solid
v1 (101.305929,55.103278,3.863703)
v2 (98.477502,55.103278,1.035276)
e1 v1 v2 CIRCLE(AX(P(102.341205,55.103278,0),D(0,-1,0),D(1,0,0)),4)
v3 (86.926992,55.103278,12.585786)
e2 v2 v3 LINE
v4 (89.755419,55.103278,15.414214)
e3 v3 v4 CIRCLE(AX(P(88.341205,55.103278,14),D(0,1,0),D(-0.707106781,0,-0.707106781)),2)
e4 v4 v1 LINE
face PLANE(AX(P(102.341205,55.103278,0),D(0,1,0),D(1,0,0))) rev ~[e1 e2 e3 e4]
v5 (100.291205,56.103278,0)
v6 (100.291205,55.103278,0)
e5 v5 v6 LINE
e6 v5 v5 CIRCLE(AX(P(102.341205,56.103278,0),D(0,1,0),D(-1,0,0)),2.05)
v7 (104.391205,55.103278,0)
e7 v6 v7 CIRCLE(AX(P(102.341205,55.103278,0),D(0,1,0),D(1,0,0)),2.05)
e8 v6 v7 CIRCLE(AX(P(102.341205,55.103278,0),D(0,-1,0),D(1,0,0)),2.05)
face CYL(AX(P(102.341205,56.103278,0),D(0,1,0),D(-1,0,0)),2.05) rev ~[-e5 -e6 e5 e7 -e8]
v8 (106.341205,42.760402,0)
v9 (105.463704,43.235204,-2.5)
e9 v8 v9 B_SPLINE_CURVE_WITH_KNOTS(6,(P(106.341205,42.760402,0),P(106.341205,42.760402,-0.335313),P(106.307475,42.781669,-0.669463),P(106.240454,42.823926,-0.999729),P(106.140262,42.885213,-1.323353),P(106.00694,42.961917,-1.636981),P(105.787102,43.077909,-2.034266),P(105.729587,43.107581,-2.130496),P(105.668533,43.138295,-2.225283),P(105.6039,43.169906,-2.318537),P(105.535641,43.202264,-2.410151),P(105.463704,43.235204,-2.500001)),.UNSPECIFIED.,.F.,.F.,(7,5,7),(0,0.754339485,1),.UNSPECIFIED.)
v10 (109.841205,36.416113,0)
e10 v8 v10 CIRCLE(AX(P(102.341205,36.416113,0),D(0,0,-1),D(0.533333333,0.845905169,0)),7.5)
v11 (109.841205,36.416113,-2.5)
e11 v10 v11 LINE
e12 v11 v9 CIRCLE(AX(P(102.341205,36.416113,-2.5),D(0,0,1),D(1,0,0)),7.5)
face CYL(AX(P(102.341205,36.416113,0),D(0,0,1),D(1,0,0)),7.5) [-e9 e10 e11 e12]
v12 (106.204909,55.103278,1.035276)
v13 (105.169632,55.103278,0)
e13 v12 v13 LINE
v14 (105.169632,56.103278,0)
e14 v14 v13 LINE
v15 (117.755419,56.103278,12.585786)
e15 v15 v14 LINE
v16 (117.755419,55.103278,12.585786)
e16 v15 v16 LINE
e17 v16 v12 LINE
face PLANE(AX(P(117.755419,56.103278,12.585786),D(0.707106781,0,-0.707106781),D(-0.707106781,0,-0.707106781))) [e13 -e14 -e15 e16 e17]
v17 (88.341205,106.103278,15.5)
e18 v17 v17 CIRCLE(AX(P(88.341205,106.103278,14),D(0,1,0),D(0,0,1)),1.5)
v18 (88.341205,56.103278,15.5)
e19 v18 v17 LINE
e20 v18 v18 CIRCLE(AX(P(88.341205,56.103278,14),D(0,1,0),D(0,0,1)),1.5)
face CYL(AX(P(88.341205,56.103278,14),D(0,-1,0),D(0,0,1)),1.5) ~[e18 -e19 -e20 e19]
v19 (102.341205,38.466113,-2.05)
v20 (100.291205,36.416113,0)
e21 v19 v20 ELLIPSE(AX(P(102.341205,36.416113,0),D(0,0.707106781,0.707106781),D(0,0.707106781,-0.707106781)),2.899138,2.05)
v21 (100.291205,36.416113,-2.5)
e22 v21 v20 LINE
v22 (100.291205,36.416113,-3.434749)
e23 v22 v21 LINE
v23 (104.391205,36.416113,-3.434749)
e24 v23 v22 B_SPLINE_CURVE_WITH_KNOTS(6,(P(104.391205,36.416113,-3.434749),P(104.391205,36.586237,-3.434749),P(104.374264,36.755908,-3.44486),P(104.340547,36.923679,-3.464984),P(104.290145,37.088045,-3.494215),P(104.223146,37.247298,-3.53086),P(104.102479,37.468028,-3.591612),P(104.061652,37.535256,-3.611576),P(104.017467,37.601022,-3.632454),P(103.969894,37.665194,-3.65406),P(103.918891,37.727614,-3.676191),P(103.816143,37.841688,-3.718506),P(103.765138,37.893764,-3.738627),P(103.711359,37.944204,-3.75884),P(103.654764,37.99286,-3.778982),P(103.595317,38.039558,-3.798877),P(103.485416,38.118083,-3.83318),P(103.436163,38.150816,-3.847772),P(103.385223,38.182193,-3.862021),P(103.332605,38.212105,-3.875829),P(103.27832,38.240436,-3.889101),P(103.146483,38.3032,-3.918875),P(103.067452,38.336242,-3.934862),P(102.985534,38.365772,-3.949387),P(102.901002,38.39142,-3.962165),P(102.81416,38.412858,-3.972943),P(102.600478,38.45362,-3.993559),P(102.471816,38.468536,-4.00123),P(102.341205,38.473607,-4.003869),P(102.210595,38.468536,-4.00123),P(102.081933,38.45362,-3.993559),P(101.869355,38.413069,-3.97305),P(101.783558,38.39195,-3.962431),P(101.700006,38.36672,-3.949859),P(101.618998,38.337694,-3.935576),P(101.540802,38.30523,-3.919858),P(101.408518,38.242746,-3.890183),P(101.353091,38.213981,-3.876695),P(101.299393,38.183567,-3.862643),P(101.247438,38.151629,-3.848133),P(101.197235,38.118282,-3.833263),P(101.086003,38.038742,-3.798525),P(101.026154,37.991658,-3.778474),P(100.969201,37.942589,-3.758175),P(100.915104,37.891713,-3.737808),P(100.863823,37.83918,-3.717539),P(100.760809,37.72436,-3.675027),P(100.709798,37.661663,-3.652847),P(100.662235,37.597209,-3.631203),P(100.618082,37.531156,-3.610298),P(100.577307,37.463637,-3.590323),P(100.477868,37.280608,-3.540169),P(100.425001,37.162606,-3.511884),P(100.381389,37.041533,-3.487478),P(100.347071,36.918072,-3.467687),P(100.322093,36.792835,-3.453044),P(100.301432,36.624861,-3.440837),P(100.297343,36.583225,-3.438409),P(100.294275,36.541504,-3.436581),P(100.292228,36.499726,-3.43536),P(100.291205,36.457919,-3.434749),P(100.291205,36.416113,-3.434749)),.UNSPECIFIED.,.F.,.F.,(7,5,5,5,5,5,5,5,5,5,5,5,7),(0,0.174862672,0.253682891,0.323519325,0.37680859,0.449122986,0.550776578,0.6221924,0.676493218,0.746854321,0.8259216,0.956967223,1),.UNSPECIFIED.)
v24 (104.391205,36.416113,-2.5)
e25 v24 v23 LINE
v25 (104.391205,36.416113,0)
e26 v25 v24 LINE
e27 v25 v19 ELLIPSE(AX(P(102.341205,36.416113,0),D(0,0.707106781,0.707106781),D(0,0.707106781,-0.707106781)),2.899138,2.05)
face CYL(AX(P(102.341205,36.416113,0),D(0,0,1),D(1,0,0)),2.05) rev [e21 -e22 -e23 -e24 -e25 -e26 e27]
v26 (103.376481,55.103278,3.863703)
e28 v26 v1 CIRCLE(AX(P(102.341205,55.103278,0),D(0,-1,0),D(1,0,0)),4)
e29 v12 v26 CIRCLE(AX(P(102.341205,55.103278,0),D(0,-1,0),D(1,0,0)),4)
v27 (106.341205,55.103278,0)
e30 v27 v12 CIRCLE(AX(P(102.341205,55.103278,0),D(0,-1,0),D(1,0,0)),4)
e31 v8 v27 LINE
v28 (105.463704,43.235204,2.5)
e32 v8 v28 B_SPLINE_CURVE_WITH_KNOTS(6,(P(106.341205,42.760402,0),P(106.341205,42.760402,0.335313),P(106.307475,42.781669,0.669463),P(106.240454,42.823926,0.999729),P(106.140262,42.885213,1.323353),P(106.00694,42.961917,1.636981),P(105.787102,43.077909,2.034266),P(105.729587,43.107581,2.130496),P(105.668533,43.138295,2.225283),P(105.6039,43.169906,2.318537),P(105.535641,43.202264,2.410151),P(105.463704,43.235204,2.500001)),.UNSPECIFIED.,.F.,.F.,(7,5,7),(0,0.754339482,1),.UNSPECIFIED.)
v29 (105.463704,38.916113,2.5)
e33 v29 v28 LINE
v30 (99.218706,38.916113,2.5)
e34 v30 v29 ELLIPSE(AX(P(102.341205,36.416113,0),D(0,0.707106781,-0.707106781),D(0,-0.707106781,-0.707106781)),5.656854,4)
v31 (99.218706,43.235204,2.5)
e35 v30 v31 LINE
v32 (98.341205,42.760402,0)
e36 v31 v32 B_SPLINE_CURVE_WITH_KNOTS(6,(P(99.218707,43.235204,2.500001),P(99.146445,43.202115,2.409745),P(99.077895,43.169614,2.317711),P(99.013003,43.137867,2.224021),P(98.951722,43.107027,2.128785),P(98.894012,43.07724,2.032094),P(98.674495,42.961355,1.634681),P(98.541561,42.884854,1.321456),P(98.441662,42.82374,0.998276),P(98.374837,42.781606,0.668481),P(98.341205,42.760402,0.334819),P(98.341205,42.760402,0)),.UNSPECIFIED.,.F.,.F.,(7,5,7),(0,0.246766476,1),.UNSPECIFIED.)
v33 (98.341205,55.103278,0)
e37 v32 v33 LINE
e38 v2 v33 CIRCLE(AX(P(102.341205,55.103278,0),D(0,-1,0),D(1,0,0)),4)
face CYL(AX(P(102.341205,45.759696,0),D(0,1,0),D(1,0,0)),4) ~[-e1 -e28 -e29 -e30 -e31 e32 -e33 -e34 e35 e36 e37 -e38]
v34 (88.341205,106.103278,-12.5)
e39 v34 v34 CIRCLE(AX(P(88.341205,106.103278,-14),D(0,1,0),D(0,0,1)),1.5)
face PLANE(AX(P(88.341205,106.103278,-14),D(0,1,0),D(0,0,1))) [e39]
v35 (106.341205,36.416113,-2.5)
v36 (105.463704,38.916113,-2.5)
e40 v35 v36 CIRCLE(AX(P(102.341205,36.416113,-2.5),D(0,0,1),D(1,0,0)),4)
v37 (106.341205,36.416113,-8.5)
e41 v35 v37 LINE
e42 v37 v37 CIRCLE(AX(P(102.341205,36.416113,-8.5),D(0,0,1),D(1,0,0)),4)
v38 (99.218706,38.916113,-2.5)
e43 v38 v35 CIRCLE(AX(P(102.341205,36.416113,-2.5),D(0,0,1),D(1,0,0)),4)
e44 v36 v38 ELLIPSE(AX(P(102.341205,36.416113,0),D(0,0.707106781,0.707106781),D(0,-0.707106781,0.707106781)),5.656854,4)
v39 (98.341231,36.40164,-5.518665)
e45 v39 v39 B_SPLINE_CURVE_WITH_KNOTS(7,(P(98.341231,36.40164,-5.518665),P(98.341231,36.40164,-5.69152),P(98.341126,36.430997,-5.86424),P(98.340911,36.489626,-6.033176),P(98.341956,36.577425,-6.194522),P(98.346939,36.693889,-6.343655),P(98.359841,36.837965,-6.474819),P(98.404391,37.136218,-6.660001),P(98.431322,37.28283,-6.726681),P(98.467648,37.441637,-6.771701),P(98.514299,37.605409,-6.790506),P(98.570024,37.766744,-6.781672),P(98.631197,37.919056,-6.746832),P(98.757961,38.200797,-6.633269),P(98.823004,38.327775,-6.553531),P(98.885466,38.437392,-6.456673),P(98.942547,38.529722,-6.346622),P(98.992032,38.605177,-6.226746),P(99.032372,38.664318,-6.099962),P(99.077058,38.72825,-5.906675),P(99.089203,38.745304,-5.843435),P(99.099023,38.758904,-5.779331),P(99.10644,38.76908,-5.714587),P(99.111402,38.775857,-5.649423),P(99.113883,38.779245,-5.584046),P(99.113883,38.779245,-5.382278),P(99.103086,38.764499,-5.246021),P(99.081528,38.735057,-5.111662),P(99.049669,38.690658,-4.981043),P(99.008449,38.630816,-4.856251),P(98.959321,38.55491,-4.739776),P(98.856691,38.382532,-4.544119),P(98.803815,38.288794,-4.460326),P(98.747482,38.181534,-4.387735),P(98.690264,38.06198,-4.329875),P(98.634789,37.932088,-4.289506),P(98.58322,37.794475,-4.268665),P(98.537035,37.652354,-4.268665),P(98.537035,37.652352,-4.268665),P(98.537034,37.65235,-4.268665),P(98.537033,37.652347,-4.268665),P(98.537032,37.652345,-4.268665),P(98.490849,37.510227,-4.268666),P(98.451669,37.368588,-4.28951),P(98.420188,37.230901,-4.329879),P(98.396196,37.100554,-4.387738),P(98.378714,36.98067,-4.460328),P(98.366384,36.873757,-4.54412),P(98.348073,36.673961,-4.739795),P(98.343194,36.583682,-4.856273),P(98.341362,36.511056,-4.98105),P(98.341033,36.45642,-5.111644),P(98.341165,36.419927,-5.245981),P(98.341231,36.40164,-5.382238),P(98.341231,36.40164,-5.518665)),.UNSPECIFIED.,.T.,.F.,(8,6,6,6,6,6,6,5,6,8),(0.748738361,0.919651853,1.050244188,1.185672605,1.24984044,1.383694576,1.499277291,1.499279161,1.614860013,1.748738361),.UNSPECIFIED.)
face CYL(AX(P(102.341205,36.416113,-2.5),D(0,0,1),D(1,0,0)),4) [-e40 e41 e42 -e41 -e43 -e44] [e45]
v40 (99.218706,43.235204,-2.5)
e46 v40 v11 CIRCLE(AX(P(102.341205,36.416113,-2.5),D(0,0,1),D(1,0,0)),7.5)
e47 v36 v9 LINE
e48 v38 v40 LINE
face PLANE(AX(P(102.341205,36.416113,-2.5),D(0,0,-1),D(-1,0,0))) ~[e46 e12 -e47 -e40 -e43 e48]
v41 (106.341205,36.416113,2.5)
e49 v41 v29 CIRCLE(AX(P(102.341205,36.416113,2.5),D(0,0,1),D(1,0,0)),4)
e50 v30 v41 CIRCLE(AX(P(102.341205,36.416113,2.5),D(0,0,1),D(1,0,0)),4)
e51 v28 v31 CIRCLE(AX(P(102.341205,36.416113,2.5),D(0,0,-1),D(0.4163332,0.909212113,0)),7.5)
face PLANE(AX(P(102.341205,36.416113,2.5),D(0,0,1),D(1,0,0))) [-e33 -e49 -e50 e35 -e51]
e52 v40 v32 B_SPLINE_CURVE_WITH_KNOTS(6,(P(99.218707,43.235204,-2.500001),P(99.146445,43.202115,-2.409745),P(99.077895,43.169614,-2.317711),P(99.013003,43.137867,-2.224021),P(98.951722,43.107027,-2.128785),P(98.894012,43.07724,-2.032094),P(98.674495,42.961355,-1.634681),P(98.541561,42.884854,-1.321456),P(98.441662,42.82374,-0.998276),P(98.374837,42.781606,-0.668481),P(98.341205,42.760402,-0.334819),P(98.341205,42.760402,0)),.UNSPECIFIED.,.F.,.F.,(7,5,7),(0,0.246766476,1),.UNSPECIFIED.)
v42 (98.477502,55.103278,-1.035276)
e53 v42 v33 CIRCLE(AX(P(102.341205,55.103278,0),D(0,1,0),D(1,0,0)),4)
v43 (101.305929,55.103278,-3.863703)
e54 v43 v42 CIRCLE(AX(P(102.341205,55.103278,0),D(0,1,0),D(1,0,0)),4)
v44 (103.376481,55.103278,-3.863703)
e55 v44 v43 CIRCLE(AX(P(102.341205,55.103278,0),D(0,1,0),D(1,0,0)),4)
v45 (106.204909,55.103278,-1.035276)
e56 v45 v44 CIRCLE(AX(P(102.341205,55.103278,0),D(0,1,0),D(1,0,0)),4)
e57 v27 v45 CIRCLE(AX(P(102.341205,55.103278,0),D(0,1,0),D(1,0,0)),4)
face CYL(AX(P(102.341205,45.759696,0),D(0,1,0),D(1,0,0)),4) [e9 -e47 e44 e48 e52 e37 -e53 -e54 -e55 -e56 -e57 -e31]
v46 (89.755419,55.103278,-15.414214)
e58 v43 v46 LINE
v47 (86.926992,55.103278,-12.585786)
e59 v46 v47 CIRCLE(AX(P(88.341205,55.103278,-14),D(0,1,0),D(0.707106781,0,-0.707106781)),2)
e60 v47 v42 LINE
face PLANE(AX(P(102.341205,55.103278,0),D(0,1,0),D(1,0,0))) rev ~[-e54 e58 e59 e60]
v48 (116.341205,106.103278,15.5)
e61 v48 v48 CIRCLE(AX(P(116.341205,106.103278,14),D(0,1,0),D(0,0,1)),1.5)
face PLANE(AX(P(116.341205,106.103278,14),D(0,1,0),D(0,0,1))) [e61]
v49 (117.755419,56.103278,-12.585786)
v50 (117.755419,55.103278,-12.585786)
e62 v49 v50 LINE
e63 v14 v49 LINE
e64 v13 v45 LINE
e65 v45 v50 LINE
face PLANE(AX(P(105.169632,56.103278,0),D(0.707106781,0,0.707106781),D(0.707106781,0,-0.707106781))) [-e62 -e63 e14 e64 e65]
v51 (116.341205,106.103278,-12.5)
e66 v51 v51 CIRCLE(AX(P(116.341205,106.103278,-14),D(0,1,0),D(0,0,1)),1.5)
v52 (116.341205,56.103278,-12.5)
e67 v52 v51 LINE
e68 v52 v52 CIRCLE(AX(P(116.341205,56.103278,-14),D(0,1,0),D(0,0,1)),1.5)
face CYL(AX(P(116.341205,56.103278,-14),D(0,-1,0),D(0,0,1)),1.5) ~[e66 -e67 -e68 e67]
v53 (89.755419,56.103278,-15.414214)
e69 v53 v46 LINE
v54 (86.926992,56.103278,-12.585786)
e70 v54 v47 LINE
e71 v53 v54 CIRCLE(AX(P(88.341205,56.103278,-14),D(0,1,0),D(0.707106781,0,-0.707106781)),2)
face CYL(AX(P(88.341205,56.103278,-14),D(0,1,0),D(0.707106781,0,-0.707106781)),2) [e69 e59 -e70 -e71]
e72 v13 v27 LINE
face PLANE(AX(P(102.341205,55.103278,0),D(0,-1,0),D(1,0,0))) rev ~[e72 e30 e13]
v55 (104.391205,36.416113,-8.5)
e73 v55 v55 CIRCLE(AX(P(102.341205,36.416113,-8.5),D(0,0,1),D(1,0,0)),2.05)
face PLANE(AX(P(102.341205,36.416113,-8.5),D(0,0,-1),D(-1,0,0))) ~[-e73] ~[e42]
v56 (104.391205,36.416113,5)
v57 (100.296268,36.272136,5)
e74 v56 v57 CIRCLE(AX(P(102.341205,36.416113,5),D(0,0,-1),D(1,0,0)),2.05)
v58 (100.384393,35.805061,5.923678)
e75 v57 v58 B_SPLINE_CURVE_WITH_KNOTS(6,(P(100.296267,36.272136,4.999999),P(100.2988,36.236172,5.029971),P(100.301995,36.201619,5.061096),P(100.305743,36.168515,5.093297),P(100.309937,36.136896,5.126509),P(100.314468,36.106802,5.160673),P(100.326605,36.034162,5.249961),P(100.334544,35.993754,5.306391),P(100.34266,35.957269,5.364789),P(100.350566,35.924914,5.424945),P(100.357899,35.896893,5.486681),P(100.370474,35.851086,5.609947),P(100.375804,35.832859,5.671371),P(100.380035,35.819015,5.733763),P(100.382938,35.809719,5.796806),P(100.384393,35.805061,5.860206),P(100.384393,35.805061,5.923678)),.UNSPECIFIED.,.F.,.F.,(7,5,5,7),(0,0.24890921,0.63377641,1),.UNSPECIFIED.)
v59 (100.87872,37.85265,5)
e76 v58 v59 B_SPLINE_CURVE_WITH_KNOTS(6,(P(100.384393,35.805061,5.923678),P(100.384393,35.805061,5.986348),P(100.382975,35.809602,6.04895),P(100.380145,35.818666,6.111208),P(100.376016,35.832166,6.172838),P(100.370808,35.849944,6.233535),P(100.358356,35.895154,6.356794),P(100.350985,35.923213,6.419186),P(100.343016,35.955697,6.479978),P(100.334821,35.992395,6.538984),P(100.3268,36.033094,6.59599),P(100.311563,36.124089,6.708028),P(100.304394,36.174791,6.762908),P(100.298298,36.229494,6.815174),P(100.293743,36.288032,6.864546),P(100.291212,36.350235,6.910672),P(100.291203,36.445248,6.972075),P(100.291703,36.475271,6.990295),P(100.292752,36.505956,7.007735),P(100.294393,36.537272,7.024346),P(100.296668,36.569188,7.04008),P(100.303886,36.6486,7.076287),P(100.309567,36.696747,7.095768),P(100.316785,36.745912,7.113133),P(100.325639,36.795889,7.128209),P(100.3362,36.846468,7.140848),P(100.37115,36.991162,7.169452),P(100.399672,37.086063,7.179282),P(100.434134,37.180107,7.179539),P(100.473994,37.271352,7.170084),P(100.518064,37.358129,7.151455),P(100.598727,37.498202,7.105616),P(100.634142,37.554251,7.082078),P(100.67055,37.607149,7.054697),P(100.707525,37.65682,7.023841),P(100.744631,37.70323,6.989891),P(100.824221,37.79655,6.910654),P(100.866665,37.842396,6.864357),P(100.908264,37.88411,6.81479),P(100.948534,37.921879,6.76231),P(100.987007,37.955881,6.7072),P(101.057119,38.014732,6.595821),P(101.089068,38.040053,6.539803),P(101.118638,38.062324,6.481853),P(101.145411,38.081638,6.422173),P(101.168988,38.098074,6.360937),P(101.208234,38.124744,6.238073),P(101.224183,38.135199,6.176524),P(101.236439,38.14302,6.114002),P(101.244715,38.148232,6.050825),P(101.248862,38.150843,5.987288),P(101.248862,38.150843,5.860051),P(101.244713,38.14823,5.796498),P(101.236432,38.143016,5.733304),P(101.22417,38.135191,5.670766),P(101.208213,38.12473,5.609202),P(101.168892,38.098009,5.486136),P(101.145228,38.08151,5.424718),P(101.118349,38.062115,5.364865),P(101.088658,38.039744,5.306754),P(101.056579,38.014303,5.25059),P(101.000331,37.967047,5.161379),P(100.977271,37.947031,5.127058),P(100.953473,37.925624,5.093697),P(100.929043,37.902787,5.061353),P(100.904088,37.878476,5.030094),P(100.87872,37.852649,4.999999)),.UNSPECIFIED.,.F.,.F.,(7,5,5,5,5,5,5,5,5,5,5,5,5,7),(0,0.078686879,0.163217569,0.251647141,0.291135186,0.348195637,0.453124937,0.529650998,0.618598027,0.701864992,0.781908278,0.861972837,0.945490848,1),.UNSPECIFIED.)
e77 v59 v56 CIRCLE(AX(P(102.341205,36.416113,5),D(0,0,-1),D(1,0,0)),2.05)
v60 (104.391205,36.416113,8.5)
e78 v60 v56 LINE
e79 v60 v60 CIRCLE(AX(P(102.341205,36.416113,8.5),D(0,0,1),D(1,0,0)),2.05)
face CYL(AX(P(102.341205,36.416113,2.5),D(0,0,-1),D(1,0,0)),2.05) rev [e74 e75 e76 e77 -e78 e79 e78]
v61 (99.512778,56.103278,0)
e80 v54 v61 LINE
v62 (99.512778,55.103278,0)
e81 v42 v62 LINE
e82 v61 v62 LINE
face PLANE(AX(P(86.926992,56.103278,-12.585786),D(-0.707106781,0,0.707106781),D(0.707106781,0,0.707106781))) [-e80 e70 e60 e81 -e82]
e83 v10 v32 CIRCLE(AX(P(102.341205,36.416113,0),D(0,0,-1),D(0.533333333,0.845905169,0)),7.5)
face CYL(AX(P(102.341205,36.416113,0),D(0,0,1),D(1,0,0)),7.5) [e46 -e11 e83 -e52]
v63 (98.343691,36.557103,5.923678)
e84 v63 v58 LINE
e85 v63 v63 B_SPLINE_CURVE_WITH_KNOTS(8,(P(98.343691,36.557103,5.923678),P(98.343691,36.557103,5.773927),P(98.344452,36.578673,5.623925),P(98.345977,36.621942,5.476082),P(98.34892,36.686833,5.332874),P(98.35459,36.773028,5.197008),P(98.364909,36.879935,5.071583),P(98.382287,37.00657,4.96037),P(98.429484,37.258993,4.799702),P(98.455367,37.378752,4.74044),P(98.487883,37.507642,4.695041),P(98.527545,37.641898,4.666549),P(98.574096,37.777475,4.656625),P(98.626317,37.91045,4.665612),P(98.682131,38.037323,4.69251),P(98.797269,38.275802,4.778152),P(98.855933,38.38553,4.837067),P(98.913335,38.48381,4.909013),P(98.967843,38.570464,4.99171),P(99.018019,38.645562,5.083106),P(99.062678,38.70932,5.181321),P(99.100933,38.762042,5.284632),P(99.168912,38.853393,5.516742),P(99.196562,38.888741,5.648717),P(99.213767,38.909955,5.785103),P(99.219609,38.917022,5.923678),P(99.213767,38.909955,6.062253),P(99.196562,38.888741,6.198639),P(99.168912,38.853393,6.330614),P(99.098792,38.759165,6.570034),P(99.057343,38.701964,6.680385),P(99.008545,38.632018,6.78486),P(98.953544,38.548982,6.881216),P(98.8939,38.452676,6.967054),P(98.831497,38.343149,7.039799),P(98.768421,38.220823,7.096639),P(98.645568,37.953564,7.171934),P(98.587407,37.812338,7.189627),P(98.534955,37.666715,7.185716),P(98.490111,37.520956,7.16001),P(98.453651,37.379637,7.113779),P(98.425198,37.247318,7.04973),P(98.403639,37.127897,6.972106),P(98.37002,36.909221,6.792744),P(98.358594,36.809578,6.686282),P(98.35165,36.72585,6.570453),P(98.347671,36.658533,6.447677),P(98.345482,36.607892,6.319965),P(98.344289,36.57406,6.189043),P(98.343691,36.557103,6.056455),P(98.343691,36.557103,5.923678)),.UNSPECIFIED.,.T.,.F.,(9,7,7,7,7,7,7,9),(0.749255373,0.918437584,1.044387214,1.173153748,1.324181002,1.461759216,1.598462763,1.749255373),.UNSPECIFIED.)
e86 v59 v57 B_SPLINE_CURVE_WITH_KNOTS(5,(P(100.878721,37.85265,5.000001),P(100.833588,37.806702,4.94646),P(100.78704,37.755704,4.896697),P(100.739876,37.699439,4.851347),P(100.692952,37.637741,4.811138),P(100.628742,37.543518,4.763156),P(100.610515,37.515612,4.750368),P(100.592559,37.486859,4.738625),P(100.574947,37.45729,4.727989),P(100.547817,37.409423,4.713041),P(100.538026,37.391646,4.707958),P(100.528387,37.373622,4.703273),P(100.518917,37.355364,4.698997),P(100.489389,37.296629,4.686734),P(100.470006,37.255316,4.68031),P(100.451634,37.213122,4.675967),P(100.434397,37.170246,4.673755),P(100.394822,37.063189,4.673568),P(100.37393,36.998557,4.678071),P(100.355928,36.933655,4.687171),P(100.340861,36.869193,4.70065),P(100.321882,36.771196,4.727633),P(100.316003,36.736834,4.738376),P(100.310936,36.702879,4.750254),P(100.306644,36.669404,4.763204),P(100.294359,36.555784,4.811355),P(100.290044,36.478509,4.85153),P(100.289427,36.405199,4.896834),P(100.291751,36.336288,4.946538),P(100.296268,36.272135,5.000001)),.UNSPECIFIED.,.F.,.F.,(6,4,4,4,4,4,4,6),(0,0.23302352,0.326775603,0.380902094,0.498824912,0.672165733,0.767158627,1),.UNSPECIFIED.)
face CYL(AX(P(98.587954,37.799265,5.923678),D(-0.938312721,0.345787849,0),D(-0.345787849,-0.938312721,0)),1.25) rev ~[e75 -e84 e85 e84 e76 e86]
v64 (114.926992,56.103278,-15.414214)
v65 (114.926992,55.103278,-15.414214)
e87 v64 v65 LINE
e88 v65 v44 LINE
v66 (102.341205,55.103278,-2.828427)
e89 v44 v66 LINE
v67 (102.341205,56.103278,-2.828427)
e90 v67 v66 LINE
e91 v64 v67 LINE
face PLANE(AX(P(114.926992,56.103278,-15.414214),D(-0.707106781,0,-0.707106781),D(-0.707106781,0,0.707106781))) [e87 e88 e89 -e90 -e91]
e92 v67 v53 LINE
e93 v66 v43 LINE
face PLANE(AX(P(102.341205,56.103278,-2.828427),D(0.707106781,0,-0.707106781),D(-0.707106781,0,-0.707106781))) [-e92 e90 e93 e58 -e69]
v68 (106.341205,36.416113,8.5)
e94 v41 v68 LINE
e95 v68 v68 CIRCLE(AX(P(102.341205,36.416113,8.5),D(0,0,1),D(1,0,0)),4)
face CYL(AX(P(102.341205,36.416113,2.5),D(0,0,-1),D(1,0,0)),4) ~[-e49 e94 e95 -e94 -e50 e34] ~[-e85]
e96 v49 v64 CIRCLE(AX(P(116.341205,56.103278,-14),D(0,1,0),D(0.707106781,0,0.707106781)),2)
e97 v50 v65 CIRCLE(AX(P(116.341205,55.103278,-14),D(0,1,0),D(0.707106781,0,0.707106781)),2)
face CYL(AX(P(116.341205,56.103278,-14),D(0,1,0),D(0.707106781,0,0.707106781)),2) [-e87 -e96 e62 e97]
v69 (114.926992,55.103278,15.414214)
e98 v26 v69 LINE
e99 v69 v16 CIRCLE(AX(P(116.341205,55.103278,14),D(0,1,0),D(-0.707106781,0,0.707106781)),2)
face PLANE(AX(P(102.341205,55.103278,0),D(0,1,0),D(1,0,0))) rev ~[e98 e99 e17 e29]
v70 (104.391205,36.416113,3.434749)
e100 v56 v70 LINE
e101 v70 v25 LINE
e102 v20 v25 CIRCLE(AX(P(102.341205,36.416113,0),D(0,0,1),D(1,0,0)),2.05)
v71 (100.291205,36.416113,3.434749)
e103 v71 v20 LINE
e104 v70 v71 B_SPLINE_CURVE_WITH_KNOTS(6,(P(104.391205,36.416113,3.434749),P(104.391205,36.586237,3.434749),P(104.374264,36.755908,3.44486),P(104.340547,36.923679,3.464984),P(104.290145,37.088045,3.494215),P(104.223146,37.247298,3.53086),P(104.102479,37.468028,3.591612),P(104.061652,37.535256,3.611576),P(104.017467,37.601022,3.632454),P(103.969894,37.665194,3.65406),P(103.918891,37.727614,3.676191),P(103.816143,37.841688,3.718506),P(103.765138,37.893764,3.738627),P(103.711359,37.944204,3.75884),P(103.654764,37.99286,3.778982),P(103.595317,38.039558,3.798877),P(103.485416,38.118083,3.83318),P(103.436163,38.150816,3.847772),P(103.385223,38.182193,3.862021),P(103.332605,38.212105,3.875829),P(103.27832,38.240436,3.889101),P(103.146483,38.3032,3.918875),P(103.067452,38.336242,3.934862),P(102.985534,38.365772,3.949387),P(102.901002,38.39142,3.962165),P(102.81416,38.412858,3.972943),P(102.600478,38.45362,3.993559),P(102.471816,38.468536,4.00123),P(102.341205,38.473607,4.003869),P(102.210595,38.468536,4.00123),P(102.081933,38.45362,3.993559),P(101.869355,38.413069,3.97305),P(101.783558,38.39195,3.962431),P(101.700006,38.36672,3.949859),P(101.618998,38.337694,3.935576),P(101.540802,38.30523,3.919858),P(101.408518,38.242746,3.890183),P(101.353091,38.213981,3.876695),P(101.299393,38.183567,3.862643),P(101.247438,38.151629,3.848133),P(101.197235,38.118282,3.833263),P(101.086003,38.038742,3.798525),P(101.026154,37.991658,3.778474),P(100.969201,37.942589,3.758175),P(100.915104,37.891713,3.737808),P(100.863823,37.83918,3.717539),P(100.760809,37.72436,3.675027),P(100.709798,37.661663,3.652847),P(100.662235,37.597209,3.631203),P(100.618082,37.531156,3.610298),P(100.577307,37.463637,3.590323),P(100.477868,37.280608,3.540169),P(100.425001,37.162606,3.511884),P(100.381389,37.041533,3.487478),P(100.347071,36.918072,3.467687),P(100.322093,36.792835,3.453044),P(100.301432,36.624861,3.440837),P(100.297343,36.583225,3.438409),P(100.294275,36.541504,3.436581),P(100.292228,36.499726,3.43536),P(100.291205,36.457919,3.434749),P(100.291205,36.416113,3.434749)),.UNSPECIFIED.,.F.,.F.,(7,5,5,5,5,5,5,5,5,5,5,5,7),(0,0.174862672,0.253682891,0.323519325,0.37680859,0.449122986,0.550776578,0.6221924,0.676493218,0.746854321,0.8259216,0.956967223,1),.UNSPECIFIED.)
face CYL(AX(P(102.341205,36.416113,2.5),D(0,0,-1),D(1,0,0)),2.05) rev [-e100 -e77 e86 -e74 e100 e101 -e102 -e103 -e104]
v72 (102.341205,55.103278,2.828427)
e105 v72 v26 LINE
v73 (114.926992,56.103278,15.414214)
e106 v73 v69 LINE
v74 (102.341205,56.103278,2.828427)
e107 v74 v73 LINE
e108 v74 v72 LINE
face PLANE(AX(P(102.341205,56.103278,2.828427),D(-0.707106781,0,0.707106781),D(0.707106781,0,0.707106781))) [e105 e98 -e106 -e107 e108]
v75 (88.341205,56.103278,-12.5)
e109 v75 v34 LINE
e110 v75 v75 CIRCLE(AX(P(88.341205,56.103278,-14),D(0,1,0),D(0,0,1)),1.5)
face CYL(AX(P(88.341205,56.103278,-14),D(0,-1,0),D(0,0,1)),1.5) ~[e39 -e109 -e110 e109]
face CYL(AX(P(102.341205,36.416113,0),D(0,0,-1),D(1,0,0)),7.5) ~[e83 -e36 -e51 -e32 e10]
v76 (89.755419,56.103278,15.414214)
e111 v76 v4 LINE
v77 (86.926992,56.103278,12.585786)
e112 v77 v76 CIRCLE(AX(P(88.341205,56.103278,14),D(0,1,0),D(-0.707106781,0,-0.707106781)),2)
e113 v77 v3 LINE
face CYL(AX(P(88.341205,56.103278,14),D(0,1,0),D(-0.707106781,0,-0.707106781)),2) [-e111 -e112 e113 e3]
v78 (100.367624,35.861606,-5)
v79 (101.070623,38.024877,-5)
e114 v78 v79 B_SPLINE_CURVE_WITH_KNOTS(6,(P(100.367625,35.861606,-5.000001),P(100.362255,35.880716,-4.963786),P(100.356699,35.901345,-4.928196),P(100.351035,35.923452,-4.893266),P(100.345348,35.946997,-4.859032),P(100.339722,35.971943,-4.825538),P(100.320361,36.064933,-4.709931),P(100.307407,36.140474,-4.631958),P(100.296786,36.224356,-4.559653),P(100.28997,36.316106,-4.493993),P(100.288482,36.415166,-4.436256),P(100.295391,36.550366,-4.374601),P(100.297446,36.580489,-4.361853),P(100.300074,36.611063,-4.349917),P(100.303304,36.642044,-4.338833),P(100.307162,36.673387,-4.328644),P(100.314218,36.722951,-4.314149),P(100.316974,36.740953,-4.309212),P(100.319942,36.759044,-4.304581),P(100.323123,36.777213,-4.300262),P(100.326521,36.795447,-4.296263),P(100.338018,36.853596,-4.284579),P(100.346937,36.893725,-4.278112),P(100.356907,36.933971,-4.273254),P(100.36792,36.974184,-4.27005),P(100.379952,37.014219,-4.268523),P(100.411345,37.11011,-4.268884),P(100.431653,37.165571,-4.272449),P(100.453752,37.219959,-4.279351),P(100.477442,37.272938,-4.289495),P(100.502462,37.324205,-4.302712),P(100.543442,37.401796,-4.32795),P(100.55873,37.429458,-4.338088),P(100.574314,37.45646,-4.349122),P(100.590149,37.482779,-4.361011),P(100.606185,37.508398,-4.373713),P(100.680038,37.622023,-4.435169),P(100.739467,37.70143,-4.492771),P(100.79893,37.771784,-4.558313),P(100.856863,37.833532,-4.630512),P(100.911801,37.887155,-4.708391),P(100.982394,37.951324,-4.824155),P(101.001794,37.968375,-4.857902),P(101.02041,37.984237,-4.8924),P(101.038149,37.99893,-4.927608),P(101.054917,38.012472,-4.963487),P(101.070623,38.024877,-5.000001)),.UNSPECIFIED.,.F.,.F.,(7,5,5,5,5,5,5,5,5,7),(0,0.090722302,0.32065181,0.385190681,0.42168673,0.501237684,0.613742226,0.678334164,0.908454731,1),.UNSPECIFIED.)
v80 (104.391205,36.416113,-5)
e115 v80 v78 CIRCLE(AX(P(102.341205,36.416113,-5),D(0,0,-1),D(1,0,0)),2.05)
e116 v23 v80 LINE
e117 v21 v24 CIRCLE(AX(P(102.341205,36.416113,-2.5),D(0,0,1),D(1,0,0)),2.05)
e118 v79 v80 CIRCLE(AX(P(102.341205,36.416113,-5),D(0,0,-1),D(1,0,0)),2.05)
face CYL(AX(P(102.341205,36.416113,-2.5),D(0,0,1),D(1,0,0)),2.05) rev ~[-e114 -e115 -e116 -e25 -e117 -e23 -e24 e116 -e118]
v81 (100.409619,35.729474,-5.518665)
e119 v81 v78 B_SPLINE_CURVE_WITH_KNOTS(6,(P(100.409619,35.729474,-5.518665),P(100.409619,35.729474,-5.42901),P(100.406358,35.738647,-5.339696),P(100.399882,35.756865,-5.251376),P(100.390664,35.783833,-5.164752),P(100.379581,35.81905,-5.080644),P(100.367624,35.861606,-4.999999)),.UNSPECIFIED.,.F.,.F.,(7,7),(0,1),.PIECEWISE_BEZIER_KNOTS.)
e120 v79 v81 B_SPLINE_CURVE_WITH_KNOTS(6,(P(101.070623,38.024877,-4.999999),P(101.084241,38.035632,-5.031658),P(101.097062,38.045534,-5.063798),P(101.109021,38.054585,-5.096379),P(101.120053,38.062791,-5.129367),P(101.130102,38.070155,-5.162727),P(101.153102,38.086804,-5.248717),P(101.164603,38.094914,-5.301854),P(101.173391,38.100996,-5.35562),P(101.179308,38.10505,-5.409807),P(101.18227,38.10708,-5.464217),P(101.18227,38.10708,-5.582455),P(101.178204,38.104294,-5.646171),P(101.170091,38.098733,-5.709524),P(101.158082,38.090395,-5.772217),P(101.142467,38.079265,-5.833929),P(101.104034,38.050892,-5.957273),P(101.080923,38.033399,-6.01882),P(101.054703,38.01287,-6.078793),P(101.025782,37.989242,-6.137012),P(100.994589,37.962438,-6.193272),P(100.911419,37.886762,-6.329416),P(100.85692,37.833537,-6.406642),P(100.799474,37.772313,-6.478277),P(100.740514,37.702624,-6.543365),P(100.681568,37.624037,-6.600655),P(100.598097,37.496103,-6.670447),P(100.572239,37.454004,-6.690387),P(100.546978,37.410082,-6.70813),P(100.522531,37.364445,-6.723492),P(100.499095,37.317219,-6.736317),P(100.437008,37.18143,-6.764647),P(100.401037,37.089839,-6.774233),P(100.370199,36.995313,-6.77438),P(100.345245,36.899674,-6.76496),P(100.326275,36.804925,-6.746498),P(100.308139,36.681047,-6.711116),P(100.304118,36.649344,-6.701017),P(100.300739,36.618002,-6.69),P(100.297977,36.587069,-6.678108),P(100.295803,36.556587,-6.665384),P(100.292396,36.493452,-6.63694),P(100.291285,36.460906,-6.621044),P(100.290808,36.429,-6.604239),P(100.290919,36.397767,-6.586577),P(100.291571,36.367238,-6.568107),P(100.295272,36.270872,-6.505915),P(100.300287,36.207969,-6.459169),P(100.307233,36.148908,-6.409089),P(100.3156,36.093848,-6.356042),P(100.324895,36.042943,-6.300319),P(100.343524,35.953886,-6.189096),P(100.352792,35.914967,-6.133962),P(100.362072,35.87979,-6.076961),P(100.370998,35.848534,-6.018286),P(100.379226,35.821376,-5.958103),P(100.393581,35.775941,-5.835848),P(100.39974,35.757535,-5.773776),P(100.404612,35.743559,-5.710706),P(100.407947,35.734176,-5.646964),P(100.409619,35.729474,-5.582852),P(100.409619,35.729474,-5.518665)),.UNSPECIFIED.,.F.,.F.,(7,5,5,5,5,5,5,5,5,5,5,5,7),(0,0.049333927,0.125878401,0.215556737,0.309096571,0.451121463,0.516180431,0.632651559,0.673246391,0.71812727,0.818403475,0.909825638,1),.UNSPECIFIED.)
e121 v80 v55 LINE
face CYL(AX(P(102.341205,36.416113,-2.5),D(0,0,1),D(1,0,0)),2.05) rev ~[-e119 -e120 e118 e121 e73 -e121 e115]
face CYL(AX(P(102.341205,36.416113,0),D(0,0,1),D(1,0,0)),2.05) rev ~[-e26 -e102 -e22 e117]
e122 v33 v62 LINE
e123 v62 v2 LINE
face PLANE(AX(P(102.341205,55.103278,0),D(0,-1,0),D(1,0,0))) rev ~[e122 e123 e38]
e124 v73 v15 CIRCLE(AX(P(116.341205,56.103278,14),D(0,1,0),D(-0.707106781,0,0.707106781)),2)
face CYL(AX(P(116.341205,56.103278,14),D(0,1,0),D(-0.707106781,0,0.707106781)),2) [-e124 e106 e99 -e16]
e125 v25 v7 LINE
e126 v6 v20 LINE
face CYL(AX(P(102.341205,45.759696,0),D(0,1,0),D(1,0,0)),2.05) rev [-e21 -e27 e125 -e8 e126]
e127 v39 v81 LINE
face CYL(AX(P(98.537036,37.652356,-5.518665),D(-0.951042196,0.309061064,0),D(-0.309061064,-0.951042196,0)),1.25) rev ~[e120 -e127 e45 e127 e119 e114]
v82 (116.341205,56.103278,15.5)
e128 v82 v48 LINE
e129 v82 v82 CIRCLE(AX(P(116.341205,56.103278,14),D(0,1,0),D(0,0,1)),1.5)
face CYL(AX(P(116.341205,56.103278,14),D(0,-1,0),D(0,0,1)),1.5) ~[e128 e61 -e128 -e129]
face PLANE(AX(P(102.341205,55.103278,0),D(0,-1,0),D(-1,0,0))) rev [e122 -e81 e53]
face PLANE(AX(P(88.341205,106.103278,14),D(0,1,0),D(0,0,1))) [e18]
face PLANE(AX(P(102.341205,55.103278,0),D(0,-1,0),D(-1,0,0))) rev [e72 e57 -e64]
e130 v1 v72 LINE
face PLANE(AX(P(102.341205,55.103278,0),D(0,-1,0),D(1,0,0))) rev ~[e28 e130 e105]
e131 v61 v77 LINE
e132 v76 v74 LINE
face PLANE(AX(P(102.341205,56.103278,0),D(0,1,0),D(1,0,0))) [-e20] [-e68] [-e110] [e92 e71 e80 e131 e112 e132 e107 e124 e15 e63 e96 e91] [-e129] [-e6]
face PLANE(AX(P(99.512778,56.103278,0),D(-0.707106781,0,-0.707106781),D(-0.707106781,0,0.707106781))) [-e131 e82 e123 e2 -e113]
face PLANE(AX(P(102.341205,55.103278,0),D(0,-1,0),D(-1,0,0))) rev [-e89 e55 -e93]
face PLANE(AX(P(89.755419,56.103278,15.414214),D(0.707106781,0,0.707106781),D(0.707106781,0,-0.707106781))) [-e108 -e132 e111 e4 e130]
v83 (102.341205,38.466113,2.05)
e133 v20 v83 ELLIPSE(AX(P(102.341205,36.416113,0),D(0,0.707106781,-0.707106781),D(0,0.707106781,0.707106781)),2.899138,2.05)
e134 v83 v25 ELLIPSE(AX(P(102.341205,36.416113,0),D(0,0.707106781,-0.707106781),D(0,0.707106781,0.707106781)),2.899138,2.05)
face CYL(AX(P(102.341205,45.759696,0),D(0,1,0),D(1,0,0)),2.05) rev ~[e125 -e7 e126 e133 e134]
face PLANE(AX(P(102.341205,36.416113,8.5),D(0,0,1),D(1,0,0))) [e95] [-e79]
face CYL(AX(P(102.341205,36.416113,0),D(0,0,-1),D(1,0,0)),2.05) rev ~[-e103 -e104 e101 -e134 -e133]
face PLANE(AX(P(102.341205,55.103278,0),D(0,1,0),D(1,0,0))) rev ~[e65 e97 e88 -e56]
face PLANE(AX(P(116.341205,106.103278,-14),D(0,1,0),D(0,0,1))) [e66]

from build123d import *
from build123d.topology import SkipClean

# Parameters (mm, degrees)
SKETCH1_R                           = 7.5
SKETCH1_R_2                         = 2.05
BOSS_EXTRUDE1_DEPTH                 = 2.5
SKETCH2_R                           = 4
SKETCH2_R_2                         = 2.05
BOSS_EXTRUDE2_DEPTH                 = 6
SKETCH7_W                           = 4
SKETCH7_H                           = 18.687164731
REVOLVE7_ANGLE                      = 180
SKETCH8_W                           = 2.05
SKETCH8_H                           = 18.687164731
SKETCH9_R                           = 2.05
CUT_EXTRUDE1_DEPTH                  = 5
BOSS_EXTRUDE3_START                 = 1
SKETCH10_R                          = 2.05
BOSS_EXTRUDE3_DEPTH                 = 1
SKETCH11_R                          = 1.5
BOSS_EXTRUDE4_DEPTH                 = 50
M3X0_5_TAPPED_HOLE1_REACH           = 76.406
M3X0_5_TAPPED_HOLE1_BORE_R          = 1.25
M3X0_5_TAPPED_HOLE1_ON_FACE_2_REACH = 76.436
M3X0_5_TAPPED_HOLE1_BORE_2_R        = 1.25


with BuildPart() as part:
    # Sketch1 → Boss-Extrude1 (new body)
    with BuildSketch(Plane.XY):
        with Locations((102.341205301, 36.416113389)):
            Circle(SKETCH1_R)
        with Locations((102.341205301, 36.416113389)):
            Circle(SKETCH1_R_2, mode=Mode.SUBTRACT)
    boss_extrude1 = extrude(amount=BOSS_EXTRUDE1_DEPTH)

    # Sketch2 → Boss-Extrude2 (add)
    with BuildSketch(Plane.XY.offset(2.5)):
        with Locations((102.341205301, 36.416113389)):
            Circle(SKETCH2_R)
        with Locations((102.341205301, 36.416113389)):
            Circle(SKETCH2_R_2, mode=Mode.SUBTRACT)
    boss_extrude2 = extrude(amount=BOSS_EXTRUDE2_DEPTH)

    # Sketch7 → Revolve7 (revolve)
    with BuildSketch(Plane(origin=(0, 0, 0), x_dir=(-1, 0, 0), z_dir=(0, 0, -1))):
        with Locations((-104.341205301, 45.759695755)):
            Rectangle(SKETCH7_W, SKETCH7_H)
    revolve7 = revolve(axis=Axis((102.341205301, 36.416113389, 0), (0, -1, 0)), revolution_arc=REVOLVE7_ANGLE)

    # Sketch8 → Cut-Revolve2 (revolve, cut)
    with BuildSketch(Plane(origin=(0, 0, 0), x_dir=(-1, 0, 0), z_dir=(0, 0, -1))):
        with Locations((-103.366205301, 45.759695755)):
            Rectangle(SKETCH8_W, SKETCH8_H)
    cut_revolve2 = revolve(axis=Axis((102.341205301, 36.416113389, 0), (0, 1, 0)), mode=Mode.SUBTRACT)

    # Sketch9 → Cut-Extrude1 (cut)
    with SkipClean():  # the faces are left unmerged after this step: merging them gives an invalid solid
        with BuildSketch(Plane(origin=(0, 0, 0), x_dir=(-1, 0, 0), z_dir=(0, 0, -1))):
            with Locations(Location((-102.341205301, 36.416113389, 0), (0, 0, 180))):
                Circle(SKETCH9_R)
        cut_extrude1 = extrude(amount=-CUT_EXTRUDE1_DEPTH, mode=Mode.SUBTRACT)

    # Mirror1: Boss-Extrude1, Boss-Extrude2, Revolve7, Cut-Revolve2, Cut-Extrude1 across plane
    with SkipClean():  # the faces are left unmerged after this step: merging them gives an invalid solid
        add(boss_extrude1.mirror(Plane(origin=(102.341205301, 36.416113389, 0), x_dir=(1, 0, 0), z_dir=(0, 0, 1))))
        add(boss_extrude2.mirror(Plane(origin=(102.341205301, 36.416113389, 0), x_dir=(1, 0, 0), z_dir=(0, 0, 1))))
        add(revolve7.mirror(Plane(origin=(102.341205301, 36.416113389, 0), x_dir=(1, 0, 0), z_dir=(0, 0, 1))))
        add(cut_revolve2.mirror(Plane(origin=(102.341205301, 36.416113389, 0), x_dir=(1, 0, 0), z_dir=(0, 0, 1))), mode=Mode.SUBTRACT)
        add(cut_extrude1.mirror(Plane(origin=(102.341205301, 36.416113389, 0), x_dir=(1, 0, 0), z_dir=(0, 0, 1))), mode=Mode.SUBTRACT)

    # Sketch10 → Boss-Extrude3 (add)
    with BuildSketch(Plane(origin=(0, 55.10327812, 0), x_dir=(1, 0, 0), z_dir=(0, 1, 0)).offset(BOSS_EXTRUDE3_START)):
        with BuildLine():
            Line((102.341205301, 2.828427125), (89.755418863, 15.414213562))
            ThreePointArc((89.755418863, 15.414213562), (86.926991738, 15.414213562), (86.926991738, 12.585786438))
            Line((86.926991738, 12.585786438), (99.512778176, 0))
            Line((99.512778176, 0), (86.926991738, -12.585786438))
            ThreePointArc((86.926991738, -12.585786438), (86.926991738, -15.414213562), (89.755418863, -15.414213562))
            Line((89.755418863, -15.414213562), (102.341205301, -2.828427125))
            Line((102.341205301, -2.828427125), (114.926991738, -15.414213562))
            ThreePointArc((114.926991738, -15.414213562), (117.755418863, -15.414213562), (117.755418863, -12.585786438))
            Line((117.755418863, -12.585786438), (105.169632425, 0))
            Line((105.169632425, 0), (117.755418863, 12.585786438))
            ThreePointArc((117.755418863, 12.585786438), (117.755418863, 15.414213562), (114.926991738, 15.414213562))
            Line((114.926991738, 15.414213562), (102.341205301, 2.828427125))
        make_face()
        with Locations(Location((102.341205301, 0, 0), (0, 0, 180))):
            Circle(SKETCH10_R, mode=Mode.SUBTRACT)
    extrude(amount=-BOSS_EXTRUDE3_DEPTH)

    # Sketch11 → Boss-Extrude4 (add)
    with BuildSketch(Plane(origin=(0, 56.10327812, 0), x_dir=(1, 0, 0), z_dir=(0, 1, 0))):
        with Locations(Location((88.341205301, 14, 0), (0, 0, 270))):
            Circle(SKETCH11_R)
        with Locations(Location((116.341205301, 14, 0), (0, 0, 270))):
            Circle(SKETCH11_R)
        with Locations(Location((116.341205301, -14, 0), (0, 0, 270))):
            Circle(SKETCH11_R)
        with Locations(Location((88.341205301, -14, 0), (0, 0, 270))):
            Circle(SKETCH11_R)
    extrude(amount=BOSS_EXTRUDE4_DEPTH)

    # M3x0.5 Tapped Hole1 bore (on position points) → M3x0.5 Tapped Hole1 (cut, up to next)
    with BuildSketch(Plane(origin=(98.587954415, 37.799264786, 5.923678009), x_dir=(-0.345787849288, -0.938312721477, 0), z_dir=(-0.938312721477, 0.345787849288, 0)), mode=Mode.PRIVATE) as m3x0_5_tapped_hole1_sk1:
        Circle(M3X0_5_TAPPED_HOLE1_BORE_R)
    m3x0_5_tapped_hole1_tool1 = extrude(m3x0_5_tapped_hole1_sk1.sketch, amount=-M3X0_5_TAPPED_HOLE1_REACH, mode=Mode.PRIVATE) & part.part
    add(m3x0_5_tapped_hole1_tool1.solids().sort_by_distance((98.587954, 37.799265, 5.923678))[0], mode=Mode.SUBTRACT)

    # M3x0.5 Tapped Hole1 bore 2 (on position points) → M3x0.5 Tapped Hole1 on face 2 (cut, up to next)
    with BuildSketch(Plane(origin=(98.537036141, 37.652356489, -5.51866452), x_dir=(-0.309061063746, -0.95104219616, 0), z_dir=(-0.95104219616, 0.309061063746, 0)), mode=Mode.PRIVATE) as m3x0_5_tapped_hole1_on_face_2_sk1:
        Circle(M3X0_5_TAPPED_HOLE1_BORE_2_R)
    m3x0_5_tapped_hole1_on_face_2_tool1 = extrude(m3x0_5_tapped_hole1_on_face_2_sk1.sketch, amount=-M3X0_5_TAPPED_HOLE1_ON_FACE_2_REACH, mode=Mode.PRIVATE) & part.part
    add(m3x0_5_tapped_hole1_on_face_2_tool1.solids().sort_by_distance((98.537036, 37.652356, -5.518665))[0], mode=Mode.SUBTRACT)


solid = part.part
